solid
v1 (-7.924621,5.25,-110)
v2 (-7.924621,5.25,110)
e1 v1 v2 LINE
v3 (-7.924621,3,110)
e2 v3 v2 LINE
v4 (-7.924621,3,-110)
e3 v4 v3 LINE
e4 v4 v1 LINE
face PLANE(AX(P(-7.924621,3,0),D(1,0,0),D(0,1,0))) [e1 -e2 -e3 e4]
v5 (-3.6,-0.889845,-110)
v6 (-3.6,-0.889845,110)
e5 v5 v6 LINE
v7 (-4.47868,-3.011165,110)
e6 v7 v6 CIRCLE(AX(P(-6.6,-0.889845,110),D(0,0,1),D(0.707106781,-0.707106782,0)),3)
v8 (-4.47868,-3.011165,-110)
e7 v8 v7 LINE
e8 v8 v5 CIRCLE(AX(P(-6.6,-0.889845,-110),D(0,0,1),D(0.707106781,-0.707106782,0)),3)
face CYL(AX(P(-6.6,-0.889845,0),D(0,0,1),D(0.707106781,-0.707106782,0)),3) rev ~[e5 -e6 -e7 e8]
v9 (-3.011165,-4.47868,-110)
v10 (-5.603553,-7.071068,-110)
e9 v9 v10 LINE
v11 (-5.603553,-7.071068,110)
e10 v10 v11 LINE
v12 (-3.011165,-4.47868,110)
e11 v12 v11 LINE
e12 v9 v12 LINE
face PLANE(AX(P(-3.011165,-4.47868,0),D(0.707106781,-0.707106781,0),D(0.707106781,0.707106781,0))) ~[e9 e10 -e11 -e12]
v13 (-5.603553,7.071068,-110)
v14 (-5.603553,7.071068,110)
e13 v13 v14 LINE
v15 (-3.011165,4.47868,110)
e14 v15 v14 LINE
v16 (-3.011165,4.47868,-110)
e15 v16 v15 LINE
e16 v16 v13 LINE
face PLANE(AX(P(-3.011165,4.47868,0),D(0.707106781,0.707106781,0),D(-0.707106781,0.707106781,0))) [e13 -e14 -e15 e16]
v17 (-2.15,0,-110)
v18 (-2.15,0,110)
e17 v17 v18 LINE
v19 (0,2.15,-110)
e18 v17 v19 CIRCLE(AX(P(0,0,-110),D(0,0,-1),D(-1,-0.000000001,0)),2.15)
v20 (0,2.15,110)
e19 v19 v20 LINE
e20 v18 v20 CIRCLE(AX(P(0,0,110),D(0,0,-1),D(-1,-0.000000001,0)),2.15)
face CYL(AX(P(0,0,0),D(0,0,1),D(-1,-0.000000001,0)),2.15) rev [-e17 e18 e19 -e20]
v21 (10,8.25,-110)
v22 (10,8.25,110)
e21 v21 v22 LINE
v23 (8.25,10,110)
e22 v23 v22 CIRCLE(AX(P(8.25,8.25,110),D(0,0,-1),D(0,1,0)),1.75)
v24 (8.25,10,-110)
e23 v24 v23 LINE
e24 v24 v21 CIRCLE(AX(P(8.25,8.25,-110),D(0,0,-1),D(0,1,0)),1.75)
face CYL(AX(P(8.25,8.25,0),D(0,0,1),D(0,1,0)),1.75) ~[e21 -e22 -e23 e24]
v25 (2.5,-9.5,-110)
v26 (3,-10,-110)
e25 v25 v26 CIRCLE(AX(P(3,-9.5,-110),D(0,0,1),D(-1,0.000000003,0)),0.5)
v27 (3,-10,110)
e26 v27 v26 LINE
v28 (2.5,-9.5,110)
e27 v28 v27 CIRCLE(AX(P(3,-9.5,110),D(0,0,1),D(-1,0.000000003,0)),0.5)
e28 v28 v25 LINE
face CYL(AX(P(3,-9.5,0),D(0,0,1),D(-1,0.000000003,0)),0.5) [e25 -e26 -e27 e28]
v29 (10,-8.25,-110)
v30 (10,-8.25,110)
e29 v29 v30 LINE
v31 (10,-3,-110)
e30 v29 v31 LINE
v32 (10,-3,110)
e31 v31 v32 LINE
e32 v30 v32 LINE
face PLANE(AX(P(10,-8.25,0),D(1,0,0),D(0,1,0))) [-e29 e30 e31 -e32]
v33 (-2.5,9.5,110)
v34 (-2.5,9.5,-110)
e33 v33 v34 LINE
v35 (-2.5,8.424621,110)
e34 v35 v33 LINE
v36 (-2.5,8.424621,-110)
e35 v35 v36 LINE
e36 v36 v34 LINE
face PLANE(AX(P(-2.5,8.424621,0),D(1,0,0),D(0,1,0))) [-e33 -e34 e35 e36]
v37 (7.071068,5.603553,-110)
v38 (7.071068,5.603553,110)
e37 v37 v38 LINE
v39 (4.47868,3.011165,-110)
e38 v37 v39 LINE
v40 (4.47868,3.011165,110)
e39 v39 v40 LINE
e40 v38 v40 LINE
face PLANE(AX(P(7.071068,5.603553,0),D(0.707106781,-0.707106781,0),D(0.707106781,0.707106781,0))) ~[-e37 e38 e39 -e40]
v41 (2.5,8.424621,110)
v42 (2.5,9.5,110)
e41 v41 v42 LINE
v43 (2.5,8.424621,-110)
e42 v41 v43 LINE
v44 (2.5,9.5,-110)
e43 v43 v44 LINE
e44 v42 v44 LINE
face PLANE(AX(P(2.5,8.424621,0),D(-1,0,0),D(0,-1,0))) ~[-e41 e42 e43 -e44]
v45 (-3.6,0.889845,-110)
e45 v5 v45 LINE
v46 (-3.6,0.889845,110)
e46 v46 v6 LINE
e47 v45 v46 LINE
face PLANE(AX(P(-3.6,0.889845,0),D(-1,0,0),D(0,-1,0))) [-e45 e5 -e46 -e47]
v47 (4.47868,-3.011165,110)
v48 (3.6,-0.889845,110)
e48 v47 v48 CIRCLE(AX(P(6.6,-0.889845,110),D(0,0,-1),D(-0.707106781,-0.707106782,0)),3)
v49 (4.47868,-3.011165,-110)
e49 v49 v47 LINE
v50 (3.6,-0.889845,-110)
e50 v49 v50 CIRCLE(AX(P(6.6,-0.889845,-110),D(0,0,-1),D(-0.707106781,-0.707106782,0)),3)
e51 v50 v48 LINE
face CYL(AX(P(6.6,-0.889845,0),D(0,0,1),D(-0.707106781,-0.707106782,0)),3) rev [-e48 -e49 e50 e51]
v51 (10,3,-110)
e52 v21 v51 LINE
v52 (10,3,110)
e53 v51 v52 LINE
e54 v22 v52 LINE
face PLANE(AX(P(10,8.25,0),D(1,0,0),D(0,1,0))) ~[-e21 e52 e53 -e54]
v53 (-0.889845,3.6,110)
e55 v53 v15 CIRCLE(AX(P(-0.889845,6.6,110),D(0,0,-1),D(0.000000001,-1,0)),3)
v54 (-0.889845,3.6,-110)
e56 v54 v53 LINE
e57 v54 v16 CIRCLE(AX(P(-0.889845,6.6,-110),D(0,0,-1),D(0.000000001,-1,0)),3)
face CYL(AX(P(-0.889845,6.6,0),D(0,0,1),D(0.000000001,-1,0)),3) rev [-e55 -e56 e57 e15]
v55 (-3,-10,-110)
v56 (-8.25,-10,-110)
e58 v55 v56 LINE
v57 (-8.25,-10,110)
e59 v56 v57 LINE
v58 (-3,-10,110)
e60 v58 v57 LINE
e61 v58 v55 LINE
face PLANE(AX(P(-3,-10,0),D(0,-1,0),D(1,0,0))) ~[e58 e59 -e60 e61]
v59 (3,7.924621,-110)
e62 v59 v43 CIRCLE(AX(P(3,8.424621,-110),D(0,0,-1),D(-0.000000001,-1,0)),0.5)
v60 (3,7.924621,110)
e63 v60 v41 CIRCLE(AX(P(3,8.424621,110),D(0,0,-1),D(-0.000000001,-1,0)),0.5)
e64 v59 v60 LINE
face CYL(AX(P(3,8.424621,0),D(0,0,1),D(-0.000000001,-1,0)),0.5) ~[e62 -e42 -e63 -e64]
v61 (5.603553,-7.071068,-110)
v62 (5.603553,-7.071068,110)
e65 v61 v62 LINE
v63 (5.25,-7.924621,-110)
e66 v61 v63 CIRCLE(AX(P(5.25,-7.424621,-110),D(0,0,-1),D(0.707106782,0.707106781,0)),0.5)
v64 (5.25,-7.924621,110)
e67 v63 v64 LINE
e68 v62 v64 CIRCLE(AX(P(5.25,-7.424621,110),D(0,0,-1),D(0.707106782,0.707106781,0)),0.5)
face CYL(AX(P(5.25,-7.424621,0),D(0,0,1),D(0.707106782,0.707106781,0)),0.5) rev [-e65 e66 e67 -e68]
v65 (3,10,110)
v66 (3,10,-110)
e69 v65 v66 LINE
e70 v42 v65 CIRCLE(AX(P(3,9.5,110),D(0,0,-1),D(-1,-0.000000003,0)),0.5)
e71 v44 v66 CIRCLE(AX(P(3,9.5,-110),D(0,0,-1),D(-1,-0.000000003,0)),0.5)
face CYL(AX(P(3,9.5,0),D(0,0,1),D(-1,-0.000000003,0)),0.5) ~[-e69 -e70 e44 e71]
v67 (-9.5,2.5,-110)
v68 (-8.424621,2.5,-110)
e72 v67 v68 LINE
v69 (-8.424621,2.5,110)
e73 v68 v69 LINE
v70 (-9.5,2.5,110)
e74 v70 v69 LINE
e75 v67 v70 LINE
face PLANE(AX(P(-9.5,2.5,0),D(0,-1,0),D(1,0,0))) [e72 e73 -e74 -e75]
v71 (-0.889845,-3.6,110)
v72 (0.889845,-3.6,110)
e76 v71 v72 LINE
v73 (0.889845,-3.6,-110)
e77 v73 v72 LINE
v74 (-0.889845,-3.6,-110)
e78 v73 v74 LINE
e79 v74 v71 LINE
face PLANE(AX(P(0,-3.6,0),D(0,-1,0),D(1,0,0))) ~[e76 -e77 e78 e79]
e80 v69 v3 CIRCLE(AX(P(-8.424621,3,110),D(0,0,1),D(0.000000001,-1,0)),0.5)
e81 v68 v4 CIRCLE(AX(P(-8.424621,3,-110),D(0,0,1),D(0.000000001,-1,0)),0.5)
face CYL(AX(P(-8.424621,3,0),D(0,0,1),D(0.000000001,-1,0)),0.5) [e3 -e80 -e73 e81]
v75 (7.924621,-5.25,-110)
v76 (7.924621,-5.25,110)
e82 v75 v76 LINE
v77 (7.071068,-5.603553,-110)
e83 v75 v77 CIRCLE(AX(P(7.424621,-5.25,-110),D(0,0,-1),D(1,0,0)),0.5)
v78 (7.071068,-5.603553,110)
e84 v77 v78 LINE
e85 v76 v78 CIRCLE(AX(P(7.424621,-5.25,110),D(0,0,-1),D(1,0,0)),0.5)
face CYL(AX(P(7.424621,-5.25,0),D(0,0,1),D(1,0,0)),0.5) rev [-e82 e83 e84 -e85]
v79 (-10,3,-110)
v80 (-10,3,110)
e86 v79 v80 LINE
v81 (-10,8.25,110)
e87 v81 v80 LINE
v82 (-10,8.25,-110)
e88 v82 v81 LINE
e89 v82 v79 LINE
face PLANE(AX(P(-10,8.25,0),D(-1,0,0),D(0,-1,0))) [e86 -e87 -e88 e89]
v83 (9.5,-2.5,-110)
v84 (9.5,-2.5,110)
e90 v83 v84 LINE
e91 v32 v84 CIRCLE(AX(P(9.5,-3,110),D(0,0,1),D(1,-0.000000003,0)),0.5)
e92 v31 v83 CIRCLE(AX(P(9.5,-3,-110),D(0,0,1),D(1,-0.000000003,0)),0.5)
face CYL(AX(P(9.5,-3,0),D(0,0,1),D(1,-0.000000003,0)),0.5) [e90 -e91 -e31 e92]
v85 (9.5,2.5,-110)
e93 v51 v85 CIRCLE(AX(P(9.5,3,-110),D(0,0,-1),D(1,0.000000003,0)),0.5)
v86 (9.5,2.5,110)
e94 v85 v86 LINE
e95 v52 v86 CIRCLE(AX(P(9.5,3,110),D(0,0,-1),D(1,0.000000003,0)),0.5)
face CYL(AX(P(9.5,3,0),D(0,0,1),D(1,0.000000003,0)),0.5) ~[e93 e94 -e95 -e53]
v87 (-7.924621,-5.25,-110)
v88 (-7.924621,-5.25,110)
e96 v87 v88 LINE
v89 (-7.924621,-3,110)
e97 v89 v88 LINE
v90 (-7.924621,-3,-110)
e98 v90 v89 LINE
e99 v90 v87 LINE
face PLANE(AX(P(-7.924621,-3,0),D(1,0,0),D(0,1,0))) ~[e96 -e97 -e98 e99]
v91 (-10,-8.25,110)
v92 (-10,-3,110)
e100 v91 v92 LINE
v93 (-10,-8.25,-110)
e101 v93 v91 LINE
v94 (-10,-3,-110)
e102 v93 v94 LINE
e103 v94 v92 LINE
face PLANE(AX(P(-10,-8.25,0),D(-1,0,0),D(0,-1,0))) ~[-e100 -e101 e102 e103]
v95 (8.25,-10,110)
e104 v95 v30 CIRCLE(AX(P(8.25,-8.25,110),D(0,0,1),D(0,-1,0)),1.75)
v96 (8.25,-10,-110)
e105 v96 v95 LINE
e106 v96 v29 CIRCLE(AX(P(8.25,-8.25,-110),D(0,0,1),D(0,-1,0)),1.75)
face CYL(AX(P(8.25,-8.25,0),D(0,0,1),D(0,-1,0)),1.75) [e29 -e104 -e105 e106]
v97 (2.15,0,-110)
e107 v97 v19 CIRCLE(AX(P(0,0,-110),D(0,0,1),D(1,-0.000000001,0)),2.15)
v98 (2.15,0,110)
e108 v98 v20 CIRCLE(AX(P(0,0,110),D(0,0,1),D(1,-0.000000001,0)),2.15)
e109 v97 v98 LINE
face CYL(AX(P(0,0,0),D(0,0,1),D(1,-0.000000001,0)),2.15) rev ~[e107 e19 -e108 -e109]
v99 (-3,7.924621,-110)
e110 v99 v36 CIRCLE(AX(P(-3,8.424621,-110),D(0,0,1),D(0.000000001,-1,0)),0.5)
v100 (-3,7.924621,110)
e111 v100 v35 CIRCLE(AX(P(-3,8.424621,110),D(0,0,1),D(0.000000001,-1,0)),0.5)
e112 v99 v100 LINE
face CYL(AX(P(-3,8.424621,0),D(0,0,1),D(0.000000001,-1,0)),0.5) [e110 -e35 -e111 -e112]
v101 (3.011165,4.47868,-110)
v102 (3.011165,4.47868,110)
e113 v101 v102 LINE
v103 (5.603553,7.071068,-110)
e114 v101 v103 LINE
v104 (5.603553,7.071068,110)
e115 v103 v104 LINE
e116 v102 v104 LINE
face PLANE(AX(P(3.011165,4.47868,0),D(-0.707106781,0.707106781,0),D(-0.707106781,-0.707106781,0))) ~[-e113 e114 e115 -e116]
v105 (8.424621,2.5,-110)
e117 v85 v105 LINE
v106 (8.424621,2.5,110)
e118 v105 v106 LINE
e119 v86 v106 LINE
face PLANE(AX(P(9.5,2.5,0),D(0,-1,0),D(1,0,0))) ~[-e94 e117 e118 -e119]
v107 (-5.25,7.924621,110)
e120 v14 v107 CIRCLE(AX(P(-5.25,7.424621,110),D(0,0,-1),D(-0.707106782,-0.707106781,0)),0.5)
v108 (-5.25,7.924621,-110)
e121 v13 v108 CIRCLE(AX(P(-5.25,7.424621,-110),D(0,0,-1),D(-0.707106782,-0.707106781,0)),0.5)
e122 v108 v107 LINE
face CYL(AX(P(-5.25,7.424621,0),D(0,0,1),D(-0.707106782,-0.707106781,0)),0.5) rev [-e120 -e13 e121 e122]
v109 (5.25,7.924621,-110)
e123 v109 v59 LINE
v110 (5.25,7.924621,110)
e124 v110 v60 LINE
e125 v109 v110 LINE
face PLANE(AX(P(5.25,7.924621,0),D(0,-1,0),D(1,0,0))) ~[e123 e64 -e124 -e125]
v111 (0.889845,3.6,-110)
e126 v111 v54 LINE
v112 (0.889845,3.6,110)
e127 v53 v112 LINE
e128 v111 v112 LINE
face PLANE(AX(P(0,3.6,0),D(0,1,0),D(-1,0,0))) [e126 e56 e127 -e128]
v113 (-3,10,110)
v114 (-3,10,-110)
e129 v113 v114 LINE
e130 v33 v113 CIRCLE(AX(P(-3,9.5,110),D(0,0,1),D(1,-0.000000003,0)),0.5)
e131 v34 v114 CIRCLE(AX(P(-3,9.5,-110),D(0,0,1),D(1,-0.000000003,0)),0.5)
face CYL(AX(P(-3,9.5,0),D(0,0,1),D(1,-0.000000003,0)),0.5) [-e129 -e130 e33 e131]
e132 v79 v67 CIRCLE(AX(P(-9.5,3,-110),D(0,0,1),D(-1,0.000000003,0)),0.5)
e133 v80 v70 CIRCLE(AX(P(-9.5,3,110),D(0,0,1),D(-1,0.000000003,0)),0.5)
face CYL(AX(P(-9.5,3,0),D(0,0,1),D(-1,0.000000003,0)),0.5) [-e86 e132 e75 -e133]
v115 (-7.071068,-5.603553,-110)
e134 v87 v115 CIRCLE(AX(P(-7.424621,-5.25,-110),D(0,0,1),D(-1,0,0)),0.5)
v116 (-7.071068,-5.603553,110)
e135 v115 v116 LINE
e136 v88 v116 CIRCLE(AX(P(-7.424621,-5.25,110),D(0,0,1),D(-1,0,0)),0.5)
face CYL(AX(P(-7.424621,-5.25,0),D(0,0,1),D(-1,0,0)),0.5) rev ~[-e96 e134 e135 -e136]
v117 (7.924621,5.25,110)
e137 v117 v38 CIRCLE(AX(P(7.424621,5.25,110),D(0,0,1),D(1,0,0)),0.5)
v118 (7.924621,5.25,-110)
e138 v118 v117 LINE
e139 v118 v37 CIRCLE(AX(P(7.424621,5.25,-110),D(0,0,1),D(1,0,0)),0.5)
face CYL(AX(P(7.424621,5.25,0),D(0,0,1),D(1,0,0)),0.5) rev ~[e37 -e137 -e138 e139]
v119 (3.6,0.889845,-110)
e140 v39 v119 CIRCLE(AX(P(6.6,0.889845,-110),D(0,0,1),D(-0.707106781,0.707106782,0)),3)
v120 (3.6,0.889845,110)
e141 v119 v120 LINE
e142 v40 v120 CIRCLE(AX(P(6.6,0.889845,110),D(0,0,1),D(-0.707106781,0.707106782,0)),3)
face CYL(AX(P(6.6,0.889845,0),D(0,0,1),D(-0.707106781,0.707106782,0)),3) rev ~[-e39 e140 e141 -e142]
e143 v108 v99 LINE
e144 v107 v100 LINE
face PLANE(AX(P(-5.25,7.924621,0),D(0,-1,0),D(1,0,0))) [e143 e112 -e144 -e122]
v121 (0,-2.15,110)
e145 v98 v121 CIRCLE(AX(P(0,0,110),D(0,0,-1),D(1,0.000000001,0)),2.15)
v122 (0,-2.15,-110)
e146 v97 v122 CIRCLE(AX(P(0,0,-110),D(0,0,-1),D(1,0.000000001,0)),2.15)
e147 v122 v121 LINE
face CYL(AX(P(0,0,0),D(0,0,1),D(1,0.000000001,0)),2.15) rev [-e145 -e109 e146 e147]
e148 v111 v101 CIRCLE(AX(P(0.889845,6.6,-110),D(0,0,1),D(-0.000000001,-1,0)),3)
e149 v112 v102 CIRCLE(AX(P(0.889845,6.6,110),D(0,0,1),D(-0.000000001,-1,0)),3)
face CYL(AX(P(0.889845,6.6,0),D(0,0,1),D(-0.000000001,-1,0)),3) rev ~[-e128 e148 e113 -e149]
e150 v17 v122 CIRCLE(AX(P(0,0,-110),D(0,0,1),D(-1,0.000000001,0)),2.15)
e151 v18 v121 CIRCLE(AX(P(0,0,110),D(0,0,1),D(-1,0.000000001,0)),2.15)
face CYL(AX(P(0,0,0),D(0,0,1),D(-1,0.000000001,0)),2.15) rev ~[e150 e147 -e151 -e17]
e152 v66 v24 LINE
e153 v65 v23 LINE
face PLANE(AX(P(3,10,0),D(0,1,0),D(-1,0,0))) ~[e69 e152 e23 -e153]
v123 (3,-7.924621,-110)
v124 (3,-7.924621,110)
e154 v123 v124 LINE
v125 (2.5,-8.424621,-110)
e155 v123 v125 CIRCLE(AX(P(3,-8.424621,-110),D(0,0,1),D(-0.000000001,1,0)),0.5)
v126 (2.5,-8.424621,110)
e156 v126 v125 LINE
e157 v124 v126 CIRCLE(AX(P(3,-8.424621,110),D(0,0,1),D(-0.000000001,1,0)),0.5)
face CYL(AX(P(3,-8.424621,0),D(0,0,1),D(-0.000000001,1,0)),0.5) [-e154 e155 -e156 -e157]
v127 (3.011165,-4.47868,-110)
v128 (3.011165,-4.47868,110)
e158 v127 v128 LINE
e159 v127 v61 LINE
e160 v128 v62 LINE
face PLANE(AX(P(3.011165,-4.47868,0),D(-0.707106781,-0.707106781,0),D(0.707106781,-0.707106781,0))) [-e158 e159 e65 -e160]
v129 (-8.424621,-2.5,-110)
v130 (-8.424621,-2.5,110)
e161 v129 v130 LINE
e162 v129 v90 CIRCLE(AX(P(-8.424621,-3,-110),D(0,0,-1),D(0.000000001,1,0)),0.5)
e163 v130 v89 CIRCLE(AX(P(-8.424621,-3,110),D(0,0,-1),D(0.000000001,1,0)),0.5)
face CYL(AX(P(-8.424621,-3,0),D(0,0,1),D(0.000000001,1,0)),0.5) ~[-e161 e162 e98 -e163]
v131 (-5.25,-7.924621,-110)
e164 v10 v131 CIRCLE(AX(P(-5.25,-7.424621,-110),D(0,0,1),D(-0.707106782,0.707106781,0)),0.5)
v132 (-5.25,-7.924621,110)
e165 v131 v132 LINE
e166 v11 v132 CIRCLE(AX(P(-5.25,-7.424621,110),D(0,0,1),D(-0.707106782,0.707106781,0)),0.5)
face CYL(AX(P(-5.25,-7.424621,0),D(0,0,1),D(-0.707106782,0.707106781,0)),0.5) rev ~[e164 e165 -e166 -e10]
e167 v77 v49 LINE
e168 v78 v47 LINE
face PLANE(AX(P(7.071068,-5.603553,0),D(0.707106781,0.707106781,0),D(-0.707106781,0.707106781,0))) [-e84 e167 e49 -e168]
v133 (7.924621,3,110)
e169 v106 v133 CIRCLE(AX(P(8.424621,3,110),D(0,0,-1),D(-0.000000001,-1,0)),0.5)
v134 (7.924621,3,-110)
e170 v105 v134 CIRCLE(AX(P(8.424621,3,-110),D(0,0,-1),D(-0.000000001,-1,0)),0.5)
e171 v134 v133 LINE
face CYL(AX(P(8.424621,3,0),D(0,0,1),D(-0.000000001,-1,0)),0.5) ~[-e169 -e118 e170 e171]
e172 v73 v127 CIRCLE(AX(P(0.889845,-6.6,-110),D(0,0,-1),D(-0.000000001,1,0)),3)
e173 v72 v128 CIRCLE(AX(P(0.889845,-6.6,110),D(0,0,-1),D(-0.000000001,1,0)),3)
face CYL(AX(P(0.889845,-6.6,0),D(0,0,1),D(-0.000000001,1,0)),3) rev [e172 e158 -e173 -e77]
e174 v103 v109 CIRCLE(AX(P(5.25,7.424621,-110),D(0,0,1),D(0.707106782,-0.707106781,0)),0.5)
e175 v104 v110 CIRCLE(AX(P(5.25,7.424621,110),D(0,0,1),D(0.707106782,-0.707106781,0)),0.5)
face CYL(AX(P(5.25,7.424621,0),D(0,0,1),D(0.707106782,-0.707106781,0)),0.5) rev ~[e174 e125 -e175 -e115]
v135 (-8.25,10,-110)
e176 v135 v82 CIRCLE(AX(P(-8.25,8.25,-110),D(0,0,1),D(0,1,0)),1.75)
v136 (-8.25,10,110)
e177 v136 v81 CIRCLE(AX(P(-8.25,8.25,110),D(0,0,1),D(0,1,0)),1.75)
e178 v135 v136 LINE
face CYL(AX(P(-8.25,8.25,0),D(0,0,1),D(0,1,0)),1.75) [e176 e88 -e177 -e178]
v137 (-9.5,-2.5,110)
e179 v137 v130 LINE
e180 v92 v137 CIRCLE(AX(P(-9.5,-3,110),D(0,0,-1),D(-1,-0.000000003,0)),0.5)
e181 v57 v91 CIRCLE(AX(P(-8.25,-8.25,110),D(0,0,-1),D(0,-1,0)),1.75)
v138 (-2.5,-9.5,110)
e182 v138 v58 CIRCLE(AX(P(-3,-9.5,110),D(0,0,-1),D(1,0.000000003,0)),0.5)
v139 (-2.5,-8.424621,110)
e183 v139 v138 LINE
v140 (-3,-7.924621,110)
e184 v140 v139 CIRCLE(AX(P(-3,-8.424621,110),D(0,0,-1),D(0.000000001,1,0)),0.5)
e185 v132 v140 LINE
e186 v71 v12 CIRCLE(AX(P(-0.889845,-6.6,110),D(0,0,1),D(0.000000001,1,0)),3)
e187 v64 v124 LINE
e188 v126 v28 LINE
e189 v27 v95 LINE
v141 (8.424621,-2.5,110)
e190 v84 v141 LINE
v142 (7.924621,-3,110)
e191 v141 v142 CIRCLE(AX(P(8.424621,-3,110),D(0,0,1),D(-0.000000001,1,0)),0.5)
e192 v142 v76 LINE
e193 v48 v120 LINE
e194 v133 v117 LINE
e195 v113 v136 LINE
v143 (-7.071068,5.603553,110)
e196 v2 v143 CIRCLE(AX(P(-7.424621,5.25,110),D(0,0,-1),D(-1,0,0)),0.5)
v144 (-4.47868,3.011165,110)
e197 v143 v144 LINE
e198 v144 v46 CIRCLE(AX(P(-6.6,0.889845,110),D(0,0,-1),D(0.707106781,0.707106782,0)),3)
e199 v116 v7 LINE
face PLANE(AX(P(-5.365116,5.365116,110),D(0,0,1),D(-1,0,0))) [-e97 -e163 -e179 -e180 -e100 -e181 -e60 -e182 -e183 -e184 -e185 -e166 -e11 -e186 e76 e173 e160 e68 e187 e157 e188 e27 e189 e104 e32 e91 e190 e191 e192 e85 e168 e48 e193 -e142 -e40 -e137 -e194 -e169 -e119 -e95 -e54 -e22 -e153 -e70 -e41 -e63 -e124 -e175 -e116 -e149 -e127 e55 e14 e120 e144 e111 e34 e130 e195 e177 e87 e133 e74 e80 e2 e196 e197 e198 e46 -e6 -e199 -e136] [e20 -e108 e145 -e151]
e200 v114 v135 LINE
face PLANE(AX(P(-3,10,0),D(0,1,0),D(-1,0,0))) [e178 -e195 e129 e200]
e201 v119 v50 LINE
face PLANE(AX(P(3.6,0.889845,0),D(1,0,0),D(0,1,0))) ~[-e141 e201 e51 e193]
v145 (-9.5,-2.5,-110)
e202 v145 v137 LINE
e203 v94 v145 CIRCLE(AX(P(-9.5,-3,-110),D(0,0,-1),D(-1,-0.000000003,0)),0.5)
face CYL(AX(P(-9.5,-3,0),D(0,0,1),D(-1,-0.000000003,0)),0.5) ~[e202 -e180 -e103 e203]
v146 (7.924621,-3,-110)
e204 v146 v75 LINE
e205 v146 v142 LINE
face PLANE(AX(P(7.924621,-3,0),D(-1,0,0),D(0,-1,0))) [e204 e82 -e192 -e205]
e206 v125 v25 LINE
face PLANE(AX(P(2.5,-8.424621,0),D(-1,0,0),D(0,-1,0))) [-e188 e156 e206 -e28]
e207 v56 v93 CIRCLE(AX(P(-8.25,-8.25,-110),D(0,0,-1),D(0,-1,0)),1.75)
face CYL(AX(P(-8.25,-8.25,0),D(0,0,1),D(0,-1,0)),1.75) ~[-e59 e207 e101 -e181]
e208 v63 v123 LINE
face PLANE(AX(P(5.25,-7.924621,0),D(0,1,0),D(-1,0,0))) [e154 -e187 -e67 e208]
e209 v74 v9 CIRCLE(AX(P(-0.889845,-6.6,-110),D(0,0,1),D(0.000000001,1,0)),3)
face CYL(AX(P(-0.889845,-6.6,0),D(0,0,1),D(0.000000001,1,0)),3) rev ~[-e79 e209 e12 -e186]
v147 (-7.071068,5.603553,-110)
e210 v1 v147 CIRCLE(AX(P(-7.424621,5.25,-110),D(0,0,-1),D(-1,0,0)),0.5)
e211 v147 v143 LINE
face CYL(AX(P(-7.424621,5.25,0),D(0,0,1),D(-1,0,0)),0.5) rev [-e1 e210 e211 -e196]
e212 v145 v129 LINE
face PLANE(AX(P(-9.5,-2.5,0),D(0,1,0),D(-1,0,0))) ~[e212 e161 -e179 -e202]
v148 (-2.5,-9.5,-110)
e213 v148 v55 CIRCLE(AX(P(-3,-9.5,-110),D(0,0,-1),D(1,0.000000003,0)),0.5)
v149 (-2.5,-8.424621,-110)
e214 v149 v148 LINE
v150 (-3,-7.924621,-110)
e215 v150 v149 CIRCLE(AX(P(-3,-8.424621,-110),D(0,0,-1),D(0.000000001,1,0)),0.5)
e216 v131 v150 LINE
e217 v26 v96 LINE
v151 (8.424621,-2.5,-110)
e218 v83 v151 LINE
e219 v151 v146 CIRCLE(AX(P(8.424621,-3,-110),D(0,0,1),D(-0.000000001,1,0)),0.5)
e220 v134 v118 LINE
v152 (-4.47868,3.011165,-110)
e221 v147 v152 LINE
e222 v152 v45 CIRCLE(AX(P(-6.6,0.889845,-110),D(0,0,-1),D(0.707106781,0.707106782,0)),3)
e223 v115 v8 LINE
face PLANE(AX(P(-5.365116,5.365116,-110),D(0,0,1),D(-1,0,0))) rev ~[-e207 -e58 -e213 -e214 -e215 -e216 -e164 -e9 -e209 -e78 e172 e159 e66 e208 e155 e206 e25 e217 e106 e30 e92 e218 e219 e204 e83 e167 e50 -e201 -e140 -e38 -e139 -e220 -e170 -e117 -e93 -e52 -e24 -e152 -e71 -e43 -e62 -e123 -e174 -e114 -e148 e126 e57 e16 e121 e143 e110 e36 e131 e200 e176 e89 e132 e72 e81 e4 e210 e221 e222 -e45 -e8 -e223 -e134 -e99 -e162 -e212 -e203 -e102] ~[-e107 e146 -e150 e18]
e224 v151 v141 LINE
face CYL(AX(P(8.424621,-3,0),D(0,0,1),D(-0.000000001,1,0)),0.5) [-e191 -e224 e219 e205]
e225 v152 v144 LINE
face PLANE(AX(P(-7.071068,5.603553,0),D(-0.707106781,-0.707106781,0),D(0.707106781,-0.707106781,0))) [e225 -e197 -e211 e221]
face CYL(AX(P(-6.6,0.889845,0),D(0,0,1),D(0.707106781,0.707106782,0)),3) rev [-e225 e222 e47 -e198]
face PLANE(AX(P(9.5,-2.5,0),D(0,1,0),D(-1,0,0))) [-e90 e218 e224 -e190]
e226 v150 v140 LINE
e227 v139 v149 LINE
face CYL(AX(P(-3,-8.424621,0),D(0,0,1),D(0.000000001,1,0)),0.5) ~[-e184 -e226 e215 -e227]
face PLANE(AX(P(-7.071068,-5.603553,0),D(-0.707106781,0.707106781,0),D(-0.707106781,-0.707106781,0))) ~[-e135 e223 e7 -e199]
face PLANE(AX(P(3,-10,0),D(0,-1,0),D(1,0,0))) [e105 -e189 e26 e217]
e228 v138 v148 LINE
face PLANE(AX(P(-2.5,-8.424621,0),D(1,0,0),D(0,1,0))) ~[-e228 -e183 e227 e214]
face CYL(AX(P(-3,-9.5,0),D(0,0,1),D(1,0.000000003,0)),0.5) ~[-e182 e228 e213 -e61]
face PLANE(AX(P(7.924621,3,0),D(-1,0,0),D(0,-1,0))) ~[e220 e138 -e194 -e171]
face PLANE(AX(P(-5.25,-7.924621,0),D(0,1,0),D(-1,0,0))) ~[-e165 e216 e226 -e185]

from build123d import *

# Parameters (mm, degrees)
BOSS_EXTRUDE1_DEPTH = 110


with BuildPart() as part:
    # Sketch4 → Boss-Extrude1 (new, symmetric)
    with BuildSketch(Plane.XY):
        with BuildLine():
            Line((3, -10), (8.25, -10))
            ThreePointArc((8.25, -10), (9.487436867, -9.487436867), (10, -8.25))
            Line((10, -8.25), (10, -3))
            ThreePointArc((10, -3), (9.853553391, -2.646446609), (9.5, -2.5))
            Line((9.5, -2.5), (8.424621202, -2.5))
            ThreePointArc((8.424621202, -2.5), (8.071067812, -2.646446609), (7.924621202, -3))
            Line((7.924621202, -3), (7.924621202, -5.25))
            ThreePointArc((7.924621202, -5.25), (7.615962919, -5.711939766), (7.071067812, -5.603553391))
            Line((7.071067812, -5.603553391), (4.478679656, -3.011165235))
            ThreePointArc((4.478679656, -3.011165235), (3.828361402, -2.037895189), (3.6, -0.889844892))
            Line((3.6, -0.889844892), (3.6, 0))
            Line((3.6, 0), (2.15, 0))
            ThreePointArc((2.15, 0), (1.52027958, -1.52027958), (0, -2.15))
            Line((0, -2.15), (0, -3.6))
            Line((0, -3.6), (0.889844892, -3.6))
            ThreePointArc((0.889844892, -3.6), (2.037895189, -3.828361402), (3.011165235, -4.478679656))
            Line((3.011165235, -4.478679656), (5.603553391, -7.071067812))
            ThreePointArc((5.603553391, -7.071067812), (5.711939766, -7.615962919), (5.25, -7.924621202))
            Line((5.25, -7.924621202), (3, -7.924621202))
            ThreePointArc((3, -7.924621202), (2.646446609, -8.071067812), (2.5, -8.424621202))
            Line((2.5, -8.424621202), (2.5, -9.5))
            ThreePointArc((2.5, -9.5), (2.646446609, -9.853553391), (3, -10))
        make_face()
    extrude(amount=BOSS_EXTRUDE1_DEPTH, both=True)

    # Mirror1: part across plane


with BuildPart() as part_1:
    add(part.part)
    add(part.part.mirror(Plane(origin=(0, 0, 0), x_dir=(0, 0, 1), z_dir=(1, 0, 0))))

    # Mirror2: part across plane


with BuildPart() as part_2:
    add(part_1.part)
    add(part_1.part.mirror(Plane.ZX))


solid = part_2.part
